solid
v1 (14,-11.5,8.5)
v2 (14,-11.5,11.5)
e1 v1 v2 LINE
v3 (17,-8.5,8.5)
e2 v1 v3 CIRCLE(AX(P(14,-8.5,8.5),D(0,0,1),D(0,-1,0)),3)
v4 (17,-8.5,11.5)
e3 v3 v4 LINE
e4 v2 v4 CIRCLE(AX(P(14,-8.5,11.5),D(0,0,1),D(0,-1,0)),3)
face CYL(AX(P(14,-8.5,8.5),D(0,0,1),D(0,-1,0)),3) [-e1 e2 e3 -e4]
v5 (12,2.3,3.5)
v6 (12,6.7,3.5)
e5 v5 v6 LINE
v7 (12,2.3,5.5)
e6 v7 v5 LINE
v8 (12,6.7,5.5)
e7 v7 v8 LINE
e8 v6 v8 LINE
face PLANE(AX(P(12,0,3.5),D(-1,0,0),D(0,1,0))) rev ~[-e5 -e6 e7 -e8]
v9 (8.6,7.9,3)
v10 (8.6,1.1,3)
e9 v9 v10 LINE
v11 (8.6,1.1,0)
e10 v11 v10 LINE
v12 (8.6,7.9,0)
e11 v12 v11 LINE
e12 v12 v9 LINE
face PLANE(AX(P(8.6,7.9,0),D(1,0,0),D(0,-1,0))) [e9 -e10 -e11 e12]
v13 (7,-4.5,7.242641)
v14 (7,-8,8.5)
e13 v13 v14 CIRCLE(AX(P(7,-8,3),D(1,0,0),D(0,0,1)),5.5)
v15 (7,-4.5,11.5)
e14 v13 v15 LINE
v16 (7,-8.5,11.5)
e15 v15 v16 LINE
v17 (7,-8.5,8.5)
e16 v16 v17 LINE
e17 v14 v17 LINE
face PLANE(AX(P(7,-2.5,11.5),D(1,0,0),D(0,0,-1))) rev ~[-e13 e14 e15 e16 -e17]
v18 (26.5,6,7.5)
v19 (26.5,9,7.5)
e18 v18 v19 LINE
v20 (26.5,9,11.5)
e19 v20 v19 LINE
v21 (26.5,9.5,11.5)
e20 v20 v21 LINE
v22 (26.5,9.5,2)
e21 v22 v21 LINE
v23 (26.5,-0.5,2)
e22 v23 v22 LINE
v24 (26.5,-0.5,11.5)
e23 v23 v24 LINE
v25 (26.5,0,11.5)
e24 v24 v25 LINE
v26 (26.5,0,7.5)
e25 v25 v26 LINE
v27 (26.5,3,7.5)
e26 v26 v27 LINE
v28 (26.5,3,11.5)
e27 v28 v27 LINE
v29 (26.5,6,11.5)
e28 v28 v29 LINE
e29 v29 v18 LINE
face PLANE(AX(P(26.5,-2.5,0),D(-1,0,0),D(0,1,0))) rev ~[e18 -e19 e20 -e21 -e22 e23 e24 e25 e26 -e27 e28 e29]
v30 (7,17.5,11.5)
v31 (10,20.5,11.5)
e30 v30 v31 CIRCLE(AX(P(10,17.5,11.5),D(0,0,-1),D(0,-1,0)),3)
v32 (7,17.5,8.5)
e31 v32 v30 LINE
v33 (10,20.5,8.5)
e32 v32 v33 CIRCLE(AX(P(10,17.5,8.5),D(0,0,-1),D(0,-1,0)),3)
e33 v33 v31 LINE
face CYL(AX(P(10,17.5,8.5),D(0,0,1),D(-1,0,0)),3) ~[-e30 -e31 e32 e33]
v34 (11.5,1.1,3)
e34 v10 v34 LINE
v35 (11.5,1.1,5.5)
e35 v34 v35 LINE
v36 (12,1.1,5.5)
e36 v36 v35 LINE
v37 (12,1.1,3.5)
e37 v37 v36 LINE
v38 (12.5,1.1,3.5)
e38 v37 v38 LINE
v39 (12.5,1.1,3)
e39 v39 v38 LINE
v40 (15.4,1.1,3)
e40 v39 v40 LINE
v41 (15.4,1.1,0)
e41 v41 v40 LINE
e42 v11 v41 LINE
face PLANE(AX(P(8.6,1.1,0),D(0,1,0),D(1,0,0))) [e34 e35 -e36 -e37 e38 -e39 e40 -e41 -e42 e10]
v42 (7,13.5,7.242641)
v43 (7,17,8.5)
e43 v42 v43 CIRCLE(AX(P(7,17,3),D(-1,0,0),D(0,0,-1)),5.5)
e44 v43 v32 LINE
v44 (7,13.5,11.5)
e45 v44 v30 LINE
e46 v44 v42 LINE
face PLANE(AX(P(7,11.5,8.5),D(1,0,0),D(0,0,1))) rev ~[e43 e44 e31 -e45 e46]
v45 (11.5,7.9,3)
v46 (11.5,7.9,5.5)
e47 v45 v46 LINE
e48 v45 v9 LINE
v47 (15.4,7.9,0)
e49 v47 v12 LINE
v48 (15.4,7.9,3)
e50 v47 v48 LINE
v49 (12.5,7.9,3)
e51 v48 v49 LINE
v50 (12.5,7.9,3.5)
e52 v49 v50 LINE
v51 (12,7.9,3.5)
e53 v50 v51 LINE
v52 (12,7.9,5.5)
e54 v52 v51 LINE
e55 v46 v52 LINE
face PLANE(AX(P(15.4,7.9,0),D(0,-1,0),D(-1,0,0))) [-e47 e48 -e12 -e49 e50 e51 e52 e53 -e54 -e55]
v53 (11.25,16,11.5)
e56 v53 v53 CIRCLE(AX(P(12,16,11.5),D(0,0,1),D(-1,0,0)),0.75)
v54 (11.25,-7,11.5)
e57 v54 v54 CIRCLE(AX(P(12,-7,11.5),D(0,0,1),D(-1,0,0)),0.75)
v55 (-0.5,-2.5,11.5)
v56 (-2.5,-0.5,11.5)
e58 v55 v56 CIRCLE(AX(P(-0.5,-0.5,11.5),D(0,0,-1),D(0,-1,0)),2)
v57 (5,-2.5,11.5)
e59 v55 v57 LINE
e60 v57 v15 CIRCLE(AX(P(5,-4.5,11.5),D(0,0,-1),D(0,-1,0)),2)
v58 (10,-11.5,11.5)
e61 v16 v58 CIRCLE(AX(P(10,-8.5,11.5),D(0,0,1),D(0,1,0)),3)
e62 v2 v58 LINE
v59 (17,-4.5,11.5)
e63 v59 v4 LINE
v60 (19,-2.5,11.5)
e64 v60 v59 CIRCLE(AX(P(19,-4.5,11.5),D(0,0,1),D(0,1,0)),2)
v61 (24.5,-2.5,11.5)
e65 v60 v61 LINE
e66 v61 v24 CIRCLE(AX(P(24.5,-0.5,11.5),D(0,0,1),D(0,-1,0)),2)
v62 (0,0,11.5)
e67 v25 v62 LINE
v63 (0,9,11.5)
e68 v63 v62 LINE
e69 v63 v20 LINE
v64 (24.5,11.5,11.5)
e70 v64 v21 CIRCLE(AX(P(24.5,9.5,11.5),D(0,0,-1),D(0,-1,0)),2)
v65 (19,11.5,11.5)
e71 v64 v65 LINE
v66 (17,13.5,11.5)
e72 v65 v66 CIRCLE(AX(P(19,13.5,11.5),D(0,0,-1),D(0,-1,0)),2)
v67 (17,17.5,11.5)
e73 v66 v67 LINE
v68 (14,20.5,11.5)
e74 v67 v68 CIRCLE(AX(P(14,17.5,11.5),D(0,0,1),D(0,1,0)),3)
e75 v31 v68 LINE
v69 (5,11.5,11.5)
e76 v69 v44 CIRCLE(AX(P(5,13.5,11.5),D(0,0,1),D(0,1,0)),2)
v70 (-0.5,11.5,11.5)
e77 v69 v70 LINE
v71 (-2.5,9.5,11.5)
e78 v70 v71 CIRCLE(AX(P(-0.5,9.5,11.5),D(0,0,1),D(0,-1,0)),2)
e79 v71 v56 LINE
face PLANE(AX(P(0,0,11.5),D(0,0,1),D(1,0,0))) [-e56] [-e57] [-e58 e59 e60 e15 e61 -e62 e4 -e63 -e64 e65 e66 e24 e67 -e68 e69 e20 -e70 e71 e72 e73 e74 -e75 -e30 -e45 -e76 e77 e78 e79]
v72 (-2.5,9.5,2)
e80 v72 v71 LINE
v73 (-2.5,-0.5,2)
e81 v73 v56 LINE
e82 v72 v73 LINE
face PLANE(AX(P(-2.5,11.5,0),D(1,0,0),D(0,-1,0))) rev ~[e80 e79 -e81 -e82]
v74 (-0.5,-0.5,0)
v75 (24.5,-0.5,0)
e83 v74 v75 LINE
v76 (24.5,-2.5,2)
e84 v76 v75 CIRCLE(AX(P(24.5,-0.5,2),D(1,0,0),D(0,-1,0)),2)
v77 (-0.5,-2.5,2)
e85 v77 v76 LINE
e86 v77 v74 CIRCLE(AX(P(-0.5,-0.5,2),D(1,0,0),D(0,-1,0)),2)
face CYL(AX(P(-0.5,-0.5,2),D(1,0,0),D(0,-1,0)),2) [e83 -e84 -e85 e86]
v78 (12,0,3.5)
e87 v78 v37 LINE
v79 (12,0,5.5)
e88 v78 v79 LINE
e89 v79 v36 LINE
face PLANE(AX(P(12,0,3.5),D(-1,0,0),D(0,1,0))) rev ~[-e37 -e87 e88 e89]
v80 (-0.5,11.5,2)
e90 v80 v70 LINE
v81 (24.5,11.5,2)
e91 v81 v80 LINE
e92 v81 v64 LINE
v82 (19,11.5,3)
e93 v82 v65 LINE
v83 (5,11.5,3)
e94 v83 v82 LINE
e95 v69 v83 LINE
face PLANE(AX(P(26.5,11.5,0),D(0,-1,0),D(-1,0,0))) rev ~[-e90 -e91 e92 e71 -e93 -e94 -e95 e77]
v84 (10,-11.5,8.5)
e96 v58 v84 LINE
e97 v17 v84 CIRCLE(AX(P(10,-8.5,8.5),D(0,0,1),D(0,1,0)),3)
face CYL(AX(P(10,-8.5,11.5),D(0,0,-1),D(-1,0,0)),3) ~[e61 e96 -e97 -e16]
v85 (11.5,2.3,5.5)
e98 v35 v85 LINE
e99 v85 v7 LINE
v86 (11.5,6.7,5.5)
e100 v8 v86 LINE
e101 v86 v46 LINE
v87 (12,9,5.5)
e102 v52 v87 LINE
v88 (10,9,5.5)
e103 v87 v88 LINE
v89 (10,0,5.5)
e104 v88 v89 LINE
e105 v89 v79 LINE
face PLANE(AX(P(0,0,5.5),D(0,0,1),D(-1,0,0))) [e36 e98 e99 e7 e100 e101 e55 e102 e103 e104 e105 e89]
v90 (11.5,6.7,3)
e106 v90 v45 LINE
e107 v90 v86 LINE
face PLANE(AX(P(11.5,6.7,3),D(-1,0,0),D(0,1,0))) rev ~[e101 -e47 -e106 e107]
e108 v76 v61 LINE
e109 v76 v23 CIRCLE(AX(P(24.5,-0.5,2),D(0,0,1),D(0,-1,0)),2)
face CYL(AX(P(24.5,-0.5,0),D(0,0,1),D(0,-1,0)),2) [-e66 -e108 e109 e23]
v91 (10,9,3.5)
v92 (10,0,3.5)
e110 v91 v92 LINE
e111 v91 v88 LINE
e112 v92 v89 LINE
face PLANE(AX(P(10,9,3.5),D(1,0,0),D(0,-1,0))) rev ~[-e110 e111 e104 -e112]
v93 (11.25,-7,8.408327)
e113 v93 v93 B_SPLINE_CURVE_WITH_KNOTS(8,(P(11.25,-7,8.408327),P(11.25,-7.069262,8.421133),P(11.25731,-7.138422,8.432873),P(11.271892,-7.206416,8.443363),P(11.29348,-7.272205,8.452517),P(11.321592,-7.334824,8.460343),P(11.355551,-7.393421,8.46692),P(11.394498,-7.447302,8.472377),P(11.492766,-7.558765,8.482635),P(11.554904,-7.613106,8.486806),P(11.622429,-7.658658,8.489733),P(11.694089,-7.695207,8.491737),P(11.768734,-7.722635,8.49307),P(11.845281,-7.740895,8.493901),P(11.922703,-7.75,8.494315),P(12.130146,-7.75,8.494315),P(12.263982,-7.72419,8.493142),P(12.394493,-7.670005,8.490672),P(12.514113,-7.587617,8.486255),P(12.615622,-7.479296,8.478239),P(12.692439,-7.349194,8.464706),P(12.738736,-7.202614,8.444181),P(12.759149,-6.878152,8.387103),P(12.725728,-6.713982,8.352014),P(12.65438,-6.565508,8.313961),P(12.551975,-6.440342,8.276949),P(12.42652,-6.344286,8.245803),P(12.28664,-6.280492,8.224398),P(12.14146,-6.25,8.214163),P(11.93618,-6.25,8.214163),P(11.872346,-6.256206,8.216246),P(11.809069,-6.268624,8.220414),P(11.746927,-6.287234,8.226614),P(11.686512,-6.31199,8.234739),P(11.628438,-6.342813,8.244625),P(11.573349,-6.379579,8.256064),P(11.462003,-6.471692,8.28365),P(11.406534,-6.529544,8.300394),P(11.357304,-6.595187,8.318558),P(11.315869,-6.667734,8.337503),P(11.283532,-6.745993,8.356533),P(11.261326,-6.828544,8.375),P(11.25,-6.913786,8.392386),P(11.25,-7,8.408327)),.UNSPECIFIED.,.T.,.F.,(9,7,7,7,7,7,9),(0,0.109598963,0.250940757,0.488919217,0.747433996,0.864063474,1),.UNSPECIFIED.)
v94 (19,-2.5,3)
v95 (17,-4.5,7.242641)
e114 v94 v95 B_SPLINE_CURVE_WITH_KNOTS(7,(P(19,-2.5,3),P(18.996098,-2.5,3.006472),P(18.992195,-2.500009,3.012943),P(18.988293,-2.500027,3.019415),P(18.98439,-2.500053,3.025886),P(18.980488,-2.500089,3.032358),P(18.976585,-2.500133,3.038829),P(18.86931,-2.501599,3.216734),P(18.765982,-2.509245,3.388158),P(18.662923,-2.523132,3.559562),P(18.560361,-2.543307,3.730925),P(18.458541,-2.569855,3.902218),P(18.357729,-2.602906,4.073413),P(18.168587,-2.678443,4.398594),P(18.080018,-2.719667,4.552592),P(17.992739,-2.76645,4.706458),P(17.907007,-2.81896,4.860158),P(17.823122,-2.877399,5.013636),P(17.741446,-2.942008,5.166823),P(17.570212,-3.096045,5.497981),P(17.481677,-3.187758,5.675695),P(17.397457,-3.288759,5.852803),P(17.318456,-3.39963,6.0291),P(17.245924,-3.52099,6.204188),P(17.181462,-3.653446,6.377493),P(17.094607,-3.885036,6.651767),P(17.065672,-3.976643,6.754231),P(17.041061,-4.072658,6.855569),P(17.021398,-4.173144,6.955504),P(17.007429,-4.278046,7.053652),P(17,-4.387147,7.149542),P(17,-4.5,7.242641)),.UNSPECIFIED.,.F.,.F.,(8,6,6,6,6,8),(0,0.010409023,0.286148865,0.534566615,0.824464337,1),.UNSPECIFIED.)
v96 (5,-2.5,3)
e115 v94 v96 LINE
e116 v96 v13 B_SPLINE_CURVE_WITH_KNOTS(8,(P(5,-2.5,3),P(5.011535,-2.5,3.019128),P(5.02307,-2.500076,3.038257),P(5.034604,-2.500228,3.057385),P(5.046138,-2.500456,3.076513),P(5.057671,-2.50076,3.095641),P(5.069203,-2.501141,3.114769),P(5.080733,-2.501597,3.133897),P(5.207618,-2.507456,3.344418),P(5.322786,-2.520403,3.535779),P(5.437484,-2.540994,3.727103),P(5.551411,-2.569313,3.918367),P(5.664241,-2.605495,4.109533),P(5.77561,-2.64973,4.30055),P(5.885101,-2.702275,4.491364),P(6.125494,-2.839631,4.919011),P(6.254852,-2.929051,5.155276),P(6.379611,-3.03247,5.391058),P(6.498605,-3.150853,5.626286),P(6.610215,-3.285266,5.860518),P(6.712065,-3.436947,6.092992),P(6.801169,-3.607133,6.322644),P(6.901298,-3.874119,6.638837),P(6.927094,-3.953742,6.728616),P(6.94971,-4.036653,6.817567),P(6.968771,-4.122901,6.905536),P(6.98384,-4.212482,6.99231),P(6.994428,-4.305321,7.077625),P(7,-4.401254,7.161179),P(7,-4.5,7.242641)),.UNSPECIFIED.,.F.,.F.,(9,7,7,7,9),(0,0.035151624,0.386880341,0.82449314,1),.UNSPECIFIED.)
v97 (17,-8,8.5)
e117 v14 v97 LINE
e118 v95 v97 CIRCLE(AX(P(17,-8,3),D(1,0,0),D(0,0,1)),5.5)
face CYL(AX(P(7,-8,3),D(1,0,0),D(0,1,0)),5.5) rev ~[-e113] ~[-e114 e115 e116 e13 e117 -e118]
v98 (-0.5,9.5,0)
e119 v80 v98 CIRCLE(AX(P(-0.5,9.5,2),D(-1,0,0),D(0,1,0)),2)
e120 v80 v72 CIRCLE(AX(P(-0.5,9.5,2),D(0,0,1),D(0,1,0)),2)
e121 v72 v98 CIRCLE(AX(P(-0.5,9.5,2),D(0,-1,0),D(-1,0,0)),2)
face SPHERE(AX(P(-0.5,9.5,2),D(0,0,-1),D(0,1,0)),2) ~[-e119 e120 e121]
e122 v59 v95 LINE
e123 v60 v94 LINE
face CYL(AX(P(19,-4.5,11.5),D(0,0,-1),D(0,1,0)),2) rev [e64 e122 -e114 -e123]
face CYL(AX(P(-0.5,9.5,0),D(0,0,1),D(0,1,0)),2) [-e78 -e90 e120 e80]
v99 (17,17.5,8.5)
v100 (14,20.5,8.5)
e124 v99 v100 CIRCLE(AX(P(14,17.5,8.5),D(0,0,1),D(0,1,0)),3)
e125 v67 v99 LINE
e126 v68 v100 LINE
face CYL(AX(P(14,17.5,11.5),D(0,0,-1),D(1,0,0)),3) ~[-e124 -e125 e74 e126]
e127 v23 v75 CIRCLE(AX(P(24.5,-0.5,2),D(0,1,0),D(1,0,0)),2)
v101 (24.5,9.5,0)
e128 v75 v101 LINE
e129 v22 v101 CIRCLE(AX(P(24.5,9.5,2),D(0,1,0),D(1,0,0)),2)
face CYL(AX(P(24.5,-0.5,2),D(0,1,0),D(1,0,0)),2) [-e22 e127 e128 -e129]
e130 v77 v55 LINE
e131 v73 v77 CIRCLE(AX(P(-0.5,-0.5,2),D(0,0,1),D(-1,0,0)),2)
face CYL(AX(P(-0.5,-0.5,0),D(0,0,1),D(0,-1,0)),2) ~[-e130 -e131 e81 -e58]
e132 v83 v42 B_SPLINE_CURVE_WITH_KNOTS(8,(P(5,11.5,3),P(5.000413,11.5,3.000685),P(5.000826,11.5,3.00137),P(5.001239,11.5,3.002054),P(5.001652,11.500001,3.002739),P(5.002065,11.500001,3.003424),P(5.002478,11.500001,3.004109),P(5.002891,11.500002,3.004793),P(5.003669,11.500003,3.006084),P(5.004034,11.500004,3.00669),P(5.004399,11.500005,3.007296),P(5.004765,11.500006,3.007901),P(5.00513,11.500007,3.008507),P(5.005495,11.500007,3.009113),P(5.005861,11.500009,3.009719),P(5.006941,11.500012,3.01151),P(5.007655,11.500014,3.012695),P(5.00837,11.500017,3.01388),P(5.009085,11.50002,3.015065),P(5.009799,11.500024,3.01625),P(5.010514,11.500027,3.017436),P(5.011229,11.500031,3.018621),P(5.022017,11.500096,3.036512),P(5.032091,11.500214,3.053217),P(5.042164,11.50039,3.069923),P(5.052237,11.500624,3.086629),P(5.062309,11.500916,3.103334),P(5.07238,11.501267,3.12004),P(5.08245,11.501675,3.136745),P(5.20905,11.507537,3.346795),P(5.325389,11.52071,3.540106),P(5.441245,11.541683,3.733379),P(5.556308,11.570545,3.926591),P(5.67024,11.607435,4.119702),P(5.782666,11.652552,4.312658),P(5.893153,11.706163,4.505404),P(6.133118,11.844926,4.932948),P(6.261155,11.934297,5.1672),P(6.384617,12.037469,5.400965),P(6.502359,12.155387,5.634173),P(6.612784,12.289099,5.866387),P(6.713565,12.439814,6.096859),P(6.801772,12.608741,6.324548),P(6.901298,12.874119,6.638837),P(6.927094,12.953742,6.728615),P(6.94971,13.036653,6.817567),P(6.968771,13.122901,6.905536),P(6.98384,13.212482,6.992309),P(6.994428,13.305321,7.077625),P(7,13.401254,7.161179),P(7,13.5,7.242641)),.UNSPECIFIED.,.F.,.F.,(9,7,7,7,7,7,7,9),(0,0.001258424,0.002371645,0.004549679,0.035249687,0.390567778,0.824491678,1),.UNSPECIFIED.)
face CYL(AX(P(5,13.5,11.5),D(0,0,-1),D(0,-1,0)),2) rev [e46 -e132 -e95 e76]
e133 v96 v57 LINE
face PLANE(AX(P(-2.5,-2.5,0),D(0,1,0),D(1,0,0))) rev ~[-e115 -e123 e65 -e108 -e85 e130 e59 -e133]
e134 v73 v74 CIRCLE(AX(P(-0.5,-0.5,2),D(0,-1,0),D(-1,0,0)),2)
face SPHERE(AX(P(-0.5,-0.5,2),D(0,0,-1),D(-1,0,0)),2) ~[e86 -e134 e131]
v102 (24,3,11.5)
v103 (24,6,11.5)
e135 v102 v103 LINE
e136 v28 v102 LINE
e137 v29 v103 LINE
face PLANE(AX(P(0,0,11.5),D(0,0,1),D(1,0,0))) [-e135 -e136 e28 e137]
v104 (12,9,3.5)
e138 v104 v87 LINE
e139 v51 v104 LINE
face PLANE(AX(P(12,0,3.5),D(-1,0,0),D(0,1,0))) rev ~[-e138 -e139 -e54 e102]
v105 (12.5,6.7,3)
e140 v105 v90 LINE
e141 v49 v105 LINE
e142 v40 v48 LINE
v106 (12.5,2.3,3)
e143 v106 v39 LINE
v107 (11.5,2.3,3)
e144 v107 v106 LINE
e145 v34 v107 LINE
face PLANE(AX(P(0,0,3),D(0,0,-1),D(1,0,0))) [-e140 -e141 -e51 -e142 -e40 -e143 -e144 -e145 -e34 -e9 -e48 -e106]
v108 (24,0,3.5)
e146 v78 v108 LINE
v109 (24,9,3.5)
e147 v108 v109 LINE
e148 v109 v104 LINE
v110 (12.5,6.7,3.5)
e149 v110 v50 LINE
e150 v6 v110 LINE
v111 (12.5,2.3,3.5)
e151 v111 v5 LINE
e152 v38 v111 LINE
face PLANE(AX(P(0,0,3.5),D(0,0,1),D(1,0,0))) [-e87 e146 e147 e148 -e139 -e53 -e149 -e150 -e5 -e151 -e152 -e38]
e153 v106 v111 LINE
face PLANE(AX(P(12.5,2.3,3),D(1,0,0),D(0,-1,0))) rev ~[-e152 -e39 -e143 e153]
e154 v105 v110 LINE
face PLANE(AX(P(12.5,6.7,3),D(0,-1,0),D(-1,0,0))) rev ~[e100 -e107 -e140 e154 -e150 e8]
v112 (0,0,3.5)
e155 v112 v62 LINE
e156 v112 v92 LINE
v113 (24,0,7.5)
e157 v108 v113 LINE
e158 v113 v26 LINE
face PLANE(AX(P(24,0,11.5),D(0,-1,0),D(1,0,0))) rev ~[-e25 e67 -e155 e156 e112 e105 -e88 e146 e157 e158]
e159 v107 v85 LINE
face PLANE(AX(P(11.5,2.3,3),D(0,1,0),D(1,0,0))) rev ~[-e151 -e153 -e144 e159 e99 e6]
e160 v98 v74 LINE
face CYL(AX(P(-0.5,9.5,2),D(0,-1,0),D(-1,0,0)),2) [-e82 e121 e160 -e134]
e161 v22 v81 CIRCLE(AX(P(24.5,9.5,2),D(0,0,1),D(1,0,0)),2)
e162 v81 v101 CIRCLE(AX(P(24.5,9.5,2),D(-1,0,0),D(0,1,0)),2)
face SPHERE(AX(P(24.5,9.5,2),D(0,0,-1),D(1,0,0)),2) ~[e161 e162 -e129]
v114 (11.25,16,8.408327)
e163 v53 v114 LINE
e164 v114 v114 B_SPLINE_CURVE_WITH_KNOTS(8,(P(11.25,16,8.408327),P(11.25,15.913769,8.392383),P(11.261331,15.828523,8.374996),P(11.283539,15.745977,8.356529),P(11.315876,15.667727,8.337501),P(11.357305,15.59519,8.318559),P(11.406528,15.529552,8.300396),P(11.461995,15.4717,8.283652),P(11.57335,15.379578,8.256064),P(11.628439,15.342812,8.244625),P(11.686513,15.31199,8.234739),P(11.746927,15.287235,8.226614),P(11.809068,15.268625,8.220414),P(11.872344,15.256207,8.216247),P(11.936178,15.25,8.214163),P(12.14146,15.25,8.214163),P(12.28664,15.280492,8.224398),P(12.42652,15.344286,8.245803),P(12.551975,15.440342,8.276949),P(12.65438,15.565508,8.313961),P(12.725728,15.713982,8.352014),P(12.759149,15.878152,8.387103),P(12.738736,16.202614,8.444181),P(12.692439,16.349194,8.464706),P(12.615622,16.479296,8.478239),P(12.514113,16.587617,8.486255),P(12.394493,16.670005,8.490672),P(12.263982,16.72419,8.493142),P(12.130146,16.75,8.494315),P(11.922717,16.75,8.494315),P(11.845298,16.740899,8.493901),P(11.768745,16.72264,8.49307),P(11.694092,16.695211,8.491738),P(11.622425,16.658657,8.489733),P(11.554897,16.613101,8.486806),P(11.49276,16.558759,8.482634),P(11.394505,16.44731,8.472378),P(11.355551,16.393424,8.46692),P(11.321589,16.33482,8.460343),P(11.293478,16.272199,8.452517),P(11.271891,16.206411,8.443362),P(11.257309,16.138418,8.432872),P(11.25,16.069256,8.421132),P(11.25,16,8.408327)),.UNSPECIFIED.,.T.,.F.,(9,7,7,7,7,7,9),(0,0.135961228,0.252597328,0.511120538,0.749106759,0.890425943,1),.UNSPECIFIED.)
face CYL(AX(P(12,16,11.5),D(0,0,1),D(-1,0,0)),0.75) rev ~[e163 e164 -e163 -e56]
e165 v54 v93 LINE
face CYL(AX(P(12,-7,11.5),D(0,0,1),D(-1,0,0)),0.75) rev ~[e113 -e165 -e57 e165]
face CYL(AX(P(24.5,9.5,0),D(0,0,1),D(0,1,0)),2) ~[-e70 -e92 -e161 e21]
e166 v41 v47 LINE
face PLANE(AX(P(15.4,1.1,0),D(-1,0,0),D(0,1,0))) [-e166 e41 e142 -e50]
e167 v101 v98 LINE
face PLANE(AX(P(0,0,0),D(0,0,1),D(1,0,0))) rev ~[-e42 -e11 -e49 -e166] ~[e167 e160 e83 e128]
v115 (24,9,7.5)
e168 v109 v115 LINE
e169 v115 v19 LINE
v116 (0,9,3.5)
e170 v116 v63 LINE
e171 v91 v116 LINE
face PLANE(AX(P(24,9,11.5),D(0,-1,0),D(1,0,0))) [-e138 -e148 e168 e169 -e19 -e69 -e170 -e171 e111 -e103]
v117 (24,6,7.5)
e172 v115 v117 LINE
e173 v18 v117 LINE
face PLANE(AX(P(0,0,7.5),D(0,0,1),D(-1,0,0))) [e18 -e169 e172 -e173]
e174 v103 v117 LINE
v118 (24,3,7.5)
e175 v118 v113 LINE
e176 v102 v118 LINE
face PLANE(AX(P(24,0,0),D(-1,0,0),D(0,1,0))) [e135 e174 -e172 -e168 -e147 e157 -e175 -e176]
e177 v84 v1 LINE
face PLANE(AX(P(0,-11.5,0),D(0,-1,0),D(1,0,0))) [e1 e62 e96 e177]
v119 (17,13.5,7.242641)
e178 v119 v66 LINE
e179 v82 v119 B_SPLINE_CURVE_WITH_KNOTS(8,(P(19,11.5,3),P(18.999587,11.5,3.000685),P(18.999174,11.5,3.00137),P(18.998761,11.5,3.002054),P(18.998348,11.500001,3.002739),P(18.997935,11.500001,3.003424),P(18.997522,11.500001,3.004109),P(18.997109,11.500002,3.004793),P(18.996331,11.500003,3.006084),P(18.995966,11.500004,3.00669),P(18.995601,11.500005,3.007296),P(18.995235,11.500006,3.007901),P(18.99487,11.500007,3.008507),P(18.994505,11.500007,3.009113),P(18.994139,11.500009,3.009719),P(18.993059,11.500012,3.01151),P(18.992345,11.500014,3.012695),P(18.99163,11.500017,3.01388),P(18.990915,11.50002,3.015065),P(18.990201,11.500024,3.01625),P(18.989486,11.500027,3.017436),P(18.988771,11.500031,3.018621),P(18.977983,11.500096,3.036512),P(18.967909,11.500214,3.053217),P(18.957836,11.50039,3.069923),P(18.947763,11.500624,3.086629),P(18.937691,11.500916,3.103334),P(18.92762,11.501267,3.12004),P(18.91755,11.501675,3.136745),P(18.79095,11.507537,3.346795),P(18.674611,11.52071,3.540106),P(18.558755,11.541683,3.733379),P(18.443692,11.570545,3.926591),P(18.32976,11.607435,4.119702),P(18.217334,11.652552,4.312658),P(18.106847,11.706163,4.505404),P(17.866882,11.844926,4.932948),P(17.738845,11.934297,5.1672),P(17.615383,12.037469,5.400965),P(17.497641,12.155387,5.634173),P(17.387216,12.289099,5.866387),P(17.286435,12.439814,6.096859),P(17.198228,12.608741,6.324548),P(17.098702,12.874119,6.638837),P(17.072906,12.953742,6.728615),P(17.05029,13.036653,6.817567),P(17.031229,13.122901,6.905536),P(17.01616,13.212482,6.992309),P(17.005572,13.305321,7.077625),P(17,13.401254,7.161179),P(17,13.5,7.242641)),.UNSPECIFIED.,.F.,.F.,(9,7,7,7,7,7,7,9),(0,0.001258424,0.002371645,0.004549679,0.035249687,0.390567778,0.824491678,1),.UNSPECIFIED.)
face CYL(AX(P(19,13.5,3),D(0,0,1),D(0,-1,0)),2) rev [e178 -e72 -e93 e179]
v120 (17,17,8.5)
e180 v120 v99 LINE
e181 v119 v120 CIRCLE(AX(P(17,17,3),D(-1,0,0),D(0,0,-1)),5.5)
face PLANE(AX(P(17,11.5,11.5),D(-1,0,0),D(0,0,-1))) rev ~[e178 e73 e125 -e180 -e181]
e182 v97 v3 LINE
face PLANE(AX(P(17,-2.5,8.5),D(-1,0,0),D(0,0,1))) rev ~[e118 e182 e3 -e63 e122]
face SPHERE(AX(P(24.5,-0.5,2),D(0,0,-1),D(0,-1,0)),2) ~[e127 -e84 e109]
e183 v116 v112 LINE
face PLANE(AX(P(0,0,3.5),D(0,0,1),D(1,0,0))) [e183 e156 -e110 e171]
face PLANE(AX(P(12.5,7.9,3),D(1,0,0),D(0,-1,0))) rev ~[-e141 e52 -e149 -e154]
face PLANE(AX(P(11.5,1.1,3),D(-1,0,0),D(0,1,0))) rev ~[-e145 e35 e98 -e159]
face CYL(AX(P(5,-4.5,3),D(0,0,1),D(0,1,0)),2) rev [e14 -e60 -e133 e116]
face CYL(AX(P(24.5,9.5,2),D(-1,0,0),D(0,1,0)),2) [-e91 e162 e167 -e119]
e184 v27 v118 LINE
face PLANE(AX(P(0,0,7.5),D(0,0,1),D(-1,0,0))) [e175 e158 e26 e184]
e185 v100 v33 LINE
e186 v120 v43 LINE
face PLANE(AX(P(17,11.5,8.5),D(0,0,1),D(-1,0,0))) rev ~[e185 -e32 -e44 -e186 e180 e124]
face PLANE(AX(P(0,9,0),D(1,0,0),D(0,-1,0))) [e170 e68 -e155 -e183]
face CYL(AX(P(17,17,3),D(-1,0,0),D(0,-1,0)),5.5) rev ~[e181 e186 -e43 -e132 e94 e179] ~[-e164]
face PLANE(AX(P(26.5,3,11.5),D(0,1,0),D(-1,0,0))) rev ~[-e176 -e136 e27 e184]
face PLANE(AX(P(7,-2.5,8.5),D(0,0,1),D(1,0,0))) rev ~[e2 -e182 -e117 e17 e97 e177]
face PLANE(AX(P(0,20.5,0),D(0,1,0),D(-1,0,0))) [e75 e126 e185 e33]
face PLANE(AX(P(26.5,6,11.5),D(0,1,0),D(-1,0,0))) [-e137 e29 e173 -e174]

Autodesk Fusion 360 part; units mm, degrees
sketch "Sketch6" plane through (0, 0, 0) normal (0, 0, 1) x (1, 0, 0)
  line L0 (0, 0) -> (24, 0)
  line L1 (24, 0) -> (24, 9)
  line L2 (24, 9) -> (0, 9)
  line L3 (0, 9) -> (0, 0)
  line L4 (24, 9) -> (26.5, 9) construction
  line L5 (26.5, 9) -> (26.5, 11.5) construction
  line L6 (0, 0) -> (-2.5, 0) construction
  line L7 (-2.5, 0) -> (-2.5, -2.5) construction
  line L8 (26.5, 11.5) -> (-2.5, 11.5)
  line L9 (-2.5, 11.5) -> (-2.5, -2.5)
  line L10 (-2.5, -2.5) -> (26.5, -2.5)
  line L11 (26.5, -2.5) -> (26.5, 11.5)
  dimension "d28" = 24
  dimension "d29" = 9
  dimension "d32" = 2.5
  dimension "d33" = 2.5
  dimension "d34" = 2.5
  dimension "d35" = 2.5
extrude "Extrude8" add sketch "Sketch6" along normal blind 3.5 contours L0 L1 L2 L3
sketch "Sketch7" plane through (0, 0, 3.5) normal (0, 0, 1) x (-1, 0, 0)
  line L0 (0, -9) -> (0, 0)
  line L1 (0, 0) -> (-24, 0)
  line L2 (-24, 0) -> (-24, -9)
  line L3 (-24, -9) -> (0, -9)
  line L4 (-12, -9) -> (-10, -9)
  line L5 (-10, -9) -> (-10, 0)
  line L6 (-10, 0) -> (-12, 0)
  line L7 (-12, 0) -> (-12, -9)
extrude "Extrude9" add sketch "Sketch7" along normal blind 2 contours L1 L3 L4 L5 L6 L7
sketch "Sketch8" plane through (0, 0, 0) normal (0, 0, -1) x (1, 0, 0)
  line L0 (0, 0) -> (0, -9)
  line L1 (0, -9) -> (24, -9)
  line L2 (24, -9) -> (24, 0)
  line L3 (24, 0) -> (0, 0)
  line L4 (12, 0) -> (12, -9) construction
  line L5 (15.4, -7.9) -> (8.6, -7.9)
  line L6 (8.6, -7.9) -> (8.6, -1.1)
  line L7 (8.6, -1.1) -> (15.4, -1.1)
  line L8 (15.4, -1.1) -> (15.4, -7.9)
  line L9 (15.4, -7.9) -> (8.6, -1.1) construction
  line L10 (8.6, -7.9) -> (15.4, -1.1) construction
  point P0 (12, -4.5)
  dimension "d39" = 6.8
  dimension "d40" = 6.8
extrude "Extrude10" cut sketch "Sketch8" against normal blind 3 contours L5 L6 L7 L8
extrude "Extrude13" add sketch "Sketch6" along normal blind 11.5
sketch "Sketch10" plane through (0, 0, 11.5) normal (0, 0, 1) x (-1, 0, 0)
  line L0 (0, 0) -> (0, -9)
  line L1 (0, -9) -> (-24, -9)
  line L2 (-24, -9) -> (-24, 0)
  line L3 (-24, 0) -> (0, 0)
  line L4 (-26.5, 2.5) -> (-26.5, -11.5)
  line L5 (-26.5, -11.5) -> (2.5, -11.5)
  line L6 (2.5, -11.5) -> (2.5, 2.5)
  line L7 (2.5, 2.5) -> (-26.5, 2.5)
  line L8 (-24, 0) -> (-26.5, 0)
  line L9 (-26.5, 0) -> (-26.5, -3)
  line L10 (-26.5, -3) -> (-24, -3)
  line L11 (-24, -3) -> (-24, 0)
  line L12 (-24, -9) -> (-26.5, -9)
  line L13 (-26.5, -9) -> (-26.5, -6)
  line L14 (-26.5, -6) -> (-24, -6)
  line L15 (-24, -6) -> (-24, -9)
  dimension "d50" = 3
  dimension "d51" = 3
extrude "Extrude14" cut sketch "Sketch10" against normal blind 4 contours L2 L4 L8 L9 L10 L11 | L2 L4 L12 L13 L14 L15
sketch "Sketch11" plane through (0, 11.5, 0) normal (0, 1, 0) x (-1, 0, 0)
  line L0 (-26.5, 0) -> (2.5, 0)
  line L1 (2.5, 0) -> (2.5, 11.5)
  line L2 (2.5, 11.5) -> (-26.5, 11.5)
  line L3 (-26.5, 11.5) -> (-26.5, 0)
  line L4 (-12, 11.5) -> (-7, 11.5) construction
  line L5 (-7, 11.5) -> (-17, 11.5)
  line L6 (-17, 11.5) -> (-17, 8.5)
  line L7 (-17, 8.5) -> (-7, 8.5)
  line L8 (-7, 8.5) -> (-7, 11.5)
  dimension "d54" = 5
  dimension "d55" = 10
  dimension "d56" = 3
extrude "Extrude15" add sketch "Sketch11" along normal blind 9 contours L2 L5 L6 L7 L8
sketch "Sketch12" plane through (0, -2.5, 0) normal (0, -1, 0) x (1, 0, 0)
  line L0 (-2.5, 0) -> (26.5, 0)
  line L1 (26.5, 0) -> (26.5, 11.5)
  line L2 (26.5, 11.5) -> (-2.5, 11.5)
  line L3 (-2.5, 11.5) -> (-2.5, 0)
  line L4 (12, 11.5) -> (17, 11.5) construction
  line L5 (17, 11.5) -> (7, 11.5)
  line L6 (7, 11.5) -> (7, 8.5)
  line L7 (7, 8.5) -> (17, 8.5)
  line L8 (17, 8.5) -> (17, 11.5)
  dimension "d59" = 5
  dimension "d60" = 10
  dimension "d61" = 3
extrude "Extrude16" add sketch "Sketch12" along normal blind 9 contours L2 L5 L6 L7 L8
fillet "Fillet1" radius 5.5 2 edges at (12, -2.5, 8.5) (12, 11.5, 8.5)
fillet "Fillet2" radius 3 4 edges at (17, 20.5, 10) (7, 20.5, 10) (17, -11.5, 10) (7, -11.5, 10)
fillet "Fillet3" radius 2 4 edges at (-2.5, 11.5, 5.75) (-2.5, -2.5, 5.75) (26.5, 11.5, 5.75) (26.5, -2.5, 5.75)
fillet "Fillet4" radius 2 4 edges at (7, -2.5, 7.25) (17, -2.5, 7.25) (17, 11.5, 7.25) (7, 11.5, 7.25)
sketch "Sketch13" plane through (0, 0, 11.5) normal (0, 0, 1) x (-1, 0, 0)
  arc A0 (-24.5, 2.5) -> (-26.5, 0.5) centre (-24.5, 0.5) ccw
  line L0 (-26.5, 0.5) -> (-26.5, 0)
  line L1 (-26.5, 0) -> (0, 0)
  line L2 (0, 0) -> (0, -9)
  line L3 (0, -9) -> (-26.5, -9)
  line L4 (-26.5, -9) -> (-26.5, -9.5)
  arc A1 (-26.5, -9.5) -> (-24.5, -11.5) centre (-24.5, -9.5) ccw
  line L5 (-24.5, -11.5) -> (-19, -11.5)
  arc A2 (-17, -13.5) -> (-19, -11.5) centre (-19, -13.5) ccw
  line L6 (-17, -13.5) -> (-17, -17.5)
  arc A3 (-17, -17.5) -> (-14, -20.5) centre (-14, -17.5) ccw
  line L7 (-14, -20.5) -> (-10, -20.5)
  arc A4 (-10, -20.5) -> (-7, -17.5) centre (-10, -17.5) ccw
  line L8 (-7, -17.5) -> (-7, -13.5)
  arc A5 (-5, -11.5) -> (-7, -13.5) centre (-5, -13.5) ccw
  line L9 (-5, -11.5) -> (0.5, -11.5)
  arc A6 (0.5, -11.5) -> (2.5, -9.5) centre (0.5, -9.5) ccw
  line L10 (2.5, -9.5) -> (2.5, 0.5)
  arc A7 (2.5, 0.5) -> (0.5, 2.5) centre (0.5, 0.5) ccw
  line L11 (0.5, 2.5) -> (-5, 2.5)
  arc A8 (-7, 4.5) -> (-5, 2.5) centre (-5, 4.5) ccw
  line L12 (-7, 4.5) -> (-7, 8.5)
  arc A9 (-7, 8.5) -> (-10, 11.5) centre (-10, 8.5) ccw
  line L13 (-10, 11.5) -> (-14, 11.5)
  arc A10 (-14, 11.5) -> (-17, 8.5) centre (-14, 8.5) ccw
  line L14 (-17, 8.5) -> (-17, 4.5)
  arc A11 (-19, 2.5) -> (-17, 4.5) centre (-19, 4.5) ccw
  line L15 (-19, 2.5) -> (-24.5, 2.5)
  line L16 (-12, -20.5) -> (-12, -16) construction
  line L17 (-12, 11.5) -> (-12, 7) construction
  circle A12 centre (-12, -16) radius 0.75
  circle A13 centre (-12, 7) radius 0.75
  dimension "d72" = 4.5
  dimension "d73" = 1.5
  dimension "d74" = 1.5
extrude "Extrude17" cut sketch "Sketch13" against normal blind 5 contours A12 | A13
sketch "Sketch14" plane through (0, 0, 3) normal (0, 0, -1) x (1, 0, 0)
  line L0 (15.4, -1.1) -> (8.6, -1.1)
  line L1 (8.6, -1.1) -> (8.6, -7.9)
  line L2 (8.6, -7.9) -> (15.4, -7.9)
  line L3 (15.4, -7.9) -> (15.4, -1.1)
  line L4 (12, -1.1) -> (12.5, -1.1)
  line L5 (12.5, -1.1) -> (11.5, -1.1)
  line L6 (11.5, -1.1) -> (11.5, -2.3)
  line L7 (11.5, -2.3) -> (12.5, -2.3)
  line L8 (12.5, -2.3) -> (12.5, -1.1)
  line L9 (12, -7.9) -> (11.5, -7.9)
  line L10 (11.5, -7.9) -> (12.5, -7.9)
  line L11 (12.5, -7.9) -> (12.5, -6.7)
  line L12 (12.5, -6.7) -> (11.5, -6.7)
  line L13 (11.5, -6.7) -> (11.5, -7.9)
  dimension "d77" = 0.5
  dimension "d78" = 1
  dimension "d79" = 1.2
  dimension "d80" = 0.5
  dimension "d81" = 1
  dimension "d82" = 1.2
extrude "Extrude18" cut sketch "Sketch14" against normal up to surface (2.5 mm away) contours L0 L4 L5 L6 L7 L8 | L2 L9 L10 L11 L12 L13
fillet "Fillet5" radius 2 8 edges at (12, -2.5, 0) (25.9142, -1.9142, 0) (26.5, 4.5, 0) (25.9142, 10.9142, 0) (12, 11.5, 0) (-1.9142, 10.9142, 0) (-2.5, 4.5, 0) (-1.9142, -1.9142, 0)
